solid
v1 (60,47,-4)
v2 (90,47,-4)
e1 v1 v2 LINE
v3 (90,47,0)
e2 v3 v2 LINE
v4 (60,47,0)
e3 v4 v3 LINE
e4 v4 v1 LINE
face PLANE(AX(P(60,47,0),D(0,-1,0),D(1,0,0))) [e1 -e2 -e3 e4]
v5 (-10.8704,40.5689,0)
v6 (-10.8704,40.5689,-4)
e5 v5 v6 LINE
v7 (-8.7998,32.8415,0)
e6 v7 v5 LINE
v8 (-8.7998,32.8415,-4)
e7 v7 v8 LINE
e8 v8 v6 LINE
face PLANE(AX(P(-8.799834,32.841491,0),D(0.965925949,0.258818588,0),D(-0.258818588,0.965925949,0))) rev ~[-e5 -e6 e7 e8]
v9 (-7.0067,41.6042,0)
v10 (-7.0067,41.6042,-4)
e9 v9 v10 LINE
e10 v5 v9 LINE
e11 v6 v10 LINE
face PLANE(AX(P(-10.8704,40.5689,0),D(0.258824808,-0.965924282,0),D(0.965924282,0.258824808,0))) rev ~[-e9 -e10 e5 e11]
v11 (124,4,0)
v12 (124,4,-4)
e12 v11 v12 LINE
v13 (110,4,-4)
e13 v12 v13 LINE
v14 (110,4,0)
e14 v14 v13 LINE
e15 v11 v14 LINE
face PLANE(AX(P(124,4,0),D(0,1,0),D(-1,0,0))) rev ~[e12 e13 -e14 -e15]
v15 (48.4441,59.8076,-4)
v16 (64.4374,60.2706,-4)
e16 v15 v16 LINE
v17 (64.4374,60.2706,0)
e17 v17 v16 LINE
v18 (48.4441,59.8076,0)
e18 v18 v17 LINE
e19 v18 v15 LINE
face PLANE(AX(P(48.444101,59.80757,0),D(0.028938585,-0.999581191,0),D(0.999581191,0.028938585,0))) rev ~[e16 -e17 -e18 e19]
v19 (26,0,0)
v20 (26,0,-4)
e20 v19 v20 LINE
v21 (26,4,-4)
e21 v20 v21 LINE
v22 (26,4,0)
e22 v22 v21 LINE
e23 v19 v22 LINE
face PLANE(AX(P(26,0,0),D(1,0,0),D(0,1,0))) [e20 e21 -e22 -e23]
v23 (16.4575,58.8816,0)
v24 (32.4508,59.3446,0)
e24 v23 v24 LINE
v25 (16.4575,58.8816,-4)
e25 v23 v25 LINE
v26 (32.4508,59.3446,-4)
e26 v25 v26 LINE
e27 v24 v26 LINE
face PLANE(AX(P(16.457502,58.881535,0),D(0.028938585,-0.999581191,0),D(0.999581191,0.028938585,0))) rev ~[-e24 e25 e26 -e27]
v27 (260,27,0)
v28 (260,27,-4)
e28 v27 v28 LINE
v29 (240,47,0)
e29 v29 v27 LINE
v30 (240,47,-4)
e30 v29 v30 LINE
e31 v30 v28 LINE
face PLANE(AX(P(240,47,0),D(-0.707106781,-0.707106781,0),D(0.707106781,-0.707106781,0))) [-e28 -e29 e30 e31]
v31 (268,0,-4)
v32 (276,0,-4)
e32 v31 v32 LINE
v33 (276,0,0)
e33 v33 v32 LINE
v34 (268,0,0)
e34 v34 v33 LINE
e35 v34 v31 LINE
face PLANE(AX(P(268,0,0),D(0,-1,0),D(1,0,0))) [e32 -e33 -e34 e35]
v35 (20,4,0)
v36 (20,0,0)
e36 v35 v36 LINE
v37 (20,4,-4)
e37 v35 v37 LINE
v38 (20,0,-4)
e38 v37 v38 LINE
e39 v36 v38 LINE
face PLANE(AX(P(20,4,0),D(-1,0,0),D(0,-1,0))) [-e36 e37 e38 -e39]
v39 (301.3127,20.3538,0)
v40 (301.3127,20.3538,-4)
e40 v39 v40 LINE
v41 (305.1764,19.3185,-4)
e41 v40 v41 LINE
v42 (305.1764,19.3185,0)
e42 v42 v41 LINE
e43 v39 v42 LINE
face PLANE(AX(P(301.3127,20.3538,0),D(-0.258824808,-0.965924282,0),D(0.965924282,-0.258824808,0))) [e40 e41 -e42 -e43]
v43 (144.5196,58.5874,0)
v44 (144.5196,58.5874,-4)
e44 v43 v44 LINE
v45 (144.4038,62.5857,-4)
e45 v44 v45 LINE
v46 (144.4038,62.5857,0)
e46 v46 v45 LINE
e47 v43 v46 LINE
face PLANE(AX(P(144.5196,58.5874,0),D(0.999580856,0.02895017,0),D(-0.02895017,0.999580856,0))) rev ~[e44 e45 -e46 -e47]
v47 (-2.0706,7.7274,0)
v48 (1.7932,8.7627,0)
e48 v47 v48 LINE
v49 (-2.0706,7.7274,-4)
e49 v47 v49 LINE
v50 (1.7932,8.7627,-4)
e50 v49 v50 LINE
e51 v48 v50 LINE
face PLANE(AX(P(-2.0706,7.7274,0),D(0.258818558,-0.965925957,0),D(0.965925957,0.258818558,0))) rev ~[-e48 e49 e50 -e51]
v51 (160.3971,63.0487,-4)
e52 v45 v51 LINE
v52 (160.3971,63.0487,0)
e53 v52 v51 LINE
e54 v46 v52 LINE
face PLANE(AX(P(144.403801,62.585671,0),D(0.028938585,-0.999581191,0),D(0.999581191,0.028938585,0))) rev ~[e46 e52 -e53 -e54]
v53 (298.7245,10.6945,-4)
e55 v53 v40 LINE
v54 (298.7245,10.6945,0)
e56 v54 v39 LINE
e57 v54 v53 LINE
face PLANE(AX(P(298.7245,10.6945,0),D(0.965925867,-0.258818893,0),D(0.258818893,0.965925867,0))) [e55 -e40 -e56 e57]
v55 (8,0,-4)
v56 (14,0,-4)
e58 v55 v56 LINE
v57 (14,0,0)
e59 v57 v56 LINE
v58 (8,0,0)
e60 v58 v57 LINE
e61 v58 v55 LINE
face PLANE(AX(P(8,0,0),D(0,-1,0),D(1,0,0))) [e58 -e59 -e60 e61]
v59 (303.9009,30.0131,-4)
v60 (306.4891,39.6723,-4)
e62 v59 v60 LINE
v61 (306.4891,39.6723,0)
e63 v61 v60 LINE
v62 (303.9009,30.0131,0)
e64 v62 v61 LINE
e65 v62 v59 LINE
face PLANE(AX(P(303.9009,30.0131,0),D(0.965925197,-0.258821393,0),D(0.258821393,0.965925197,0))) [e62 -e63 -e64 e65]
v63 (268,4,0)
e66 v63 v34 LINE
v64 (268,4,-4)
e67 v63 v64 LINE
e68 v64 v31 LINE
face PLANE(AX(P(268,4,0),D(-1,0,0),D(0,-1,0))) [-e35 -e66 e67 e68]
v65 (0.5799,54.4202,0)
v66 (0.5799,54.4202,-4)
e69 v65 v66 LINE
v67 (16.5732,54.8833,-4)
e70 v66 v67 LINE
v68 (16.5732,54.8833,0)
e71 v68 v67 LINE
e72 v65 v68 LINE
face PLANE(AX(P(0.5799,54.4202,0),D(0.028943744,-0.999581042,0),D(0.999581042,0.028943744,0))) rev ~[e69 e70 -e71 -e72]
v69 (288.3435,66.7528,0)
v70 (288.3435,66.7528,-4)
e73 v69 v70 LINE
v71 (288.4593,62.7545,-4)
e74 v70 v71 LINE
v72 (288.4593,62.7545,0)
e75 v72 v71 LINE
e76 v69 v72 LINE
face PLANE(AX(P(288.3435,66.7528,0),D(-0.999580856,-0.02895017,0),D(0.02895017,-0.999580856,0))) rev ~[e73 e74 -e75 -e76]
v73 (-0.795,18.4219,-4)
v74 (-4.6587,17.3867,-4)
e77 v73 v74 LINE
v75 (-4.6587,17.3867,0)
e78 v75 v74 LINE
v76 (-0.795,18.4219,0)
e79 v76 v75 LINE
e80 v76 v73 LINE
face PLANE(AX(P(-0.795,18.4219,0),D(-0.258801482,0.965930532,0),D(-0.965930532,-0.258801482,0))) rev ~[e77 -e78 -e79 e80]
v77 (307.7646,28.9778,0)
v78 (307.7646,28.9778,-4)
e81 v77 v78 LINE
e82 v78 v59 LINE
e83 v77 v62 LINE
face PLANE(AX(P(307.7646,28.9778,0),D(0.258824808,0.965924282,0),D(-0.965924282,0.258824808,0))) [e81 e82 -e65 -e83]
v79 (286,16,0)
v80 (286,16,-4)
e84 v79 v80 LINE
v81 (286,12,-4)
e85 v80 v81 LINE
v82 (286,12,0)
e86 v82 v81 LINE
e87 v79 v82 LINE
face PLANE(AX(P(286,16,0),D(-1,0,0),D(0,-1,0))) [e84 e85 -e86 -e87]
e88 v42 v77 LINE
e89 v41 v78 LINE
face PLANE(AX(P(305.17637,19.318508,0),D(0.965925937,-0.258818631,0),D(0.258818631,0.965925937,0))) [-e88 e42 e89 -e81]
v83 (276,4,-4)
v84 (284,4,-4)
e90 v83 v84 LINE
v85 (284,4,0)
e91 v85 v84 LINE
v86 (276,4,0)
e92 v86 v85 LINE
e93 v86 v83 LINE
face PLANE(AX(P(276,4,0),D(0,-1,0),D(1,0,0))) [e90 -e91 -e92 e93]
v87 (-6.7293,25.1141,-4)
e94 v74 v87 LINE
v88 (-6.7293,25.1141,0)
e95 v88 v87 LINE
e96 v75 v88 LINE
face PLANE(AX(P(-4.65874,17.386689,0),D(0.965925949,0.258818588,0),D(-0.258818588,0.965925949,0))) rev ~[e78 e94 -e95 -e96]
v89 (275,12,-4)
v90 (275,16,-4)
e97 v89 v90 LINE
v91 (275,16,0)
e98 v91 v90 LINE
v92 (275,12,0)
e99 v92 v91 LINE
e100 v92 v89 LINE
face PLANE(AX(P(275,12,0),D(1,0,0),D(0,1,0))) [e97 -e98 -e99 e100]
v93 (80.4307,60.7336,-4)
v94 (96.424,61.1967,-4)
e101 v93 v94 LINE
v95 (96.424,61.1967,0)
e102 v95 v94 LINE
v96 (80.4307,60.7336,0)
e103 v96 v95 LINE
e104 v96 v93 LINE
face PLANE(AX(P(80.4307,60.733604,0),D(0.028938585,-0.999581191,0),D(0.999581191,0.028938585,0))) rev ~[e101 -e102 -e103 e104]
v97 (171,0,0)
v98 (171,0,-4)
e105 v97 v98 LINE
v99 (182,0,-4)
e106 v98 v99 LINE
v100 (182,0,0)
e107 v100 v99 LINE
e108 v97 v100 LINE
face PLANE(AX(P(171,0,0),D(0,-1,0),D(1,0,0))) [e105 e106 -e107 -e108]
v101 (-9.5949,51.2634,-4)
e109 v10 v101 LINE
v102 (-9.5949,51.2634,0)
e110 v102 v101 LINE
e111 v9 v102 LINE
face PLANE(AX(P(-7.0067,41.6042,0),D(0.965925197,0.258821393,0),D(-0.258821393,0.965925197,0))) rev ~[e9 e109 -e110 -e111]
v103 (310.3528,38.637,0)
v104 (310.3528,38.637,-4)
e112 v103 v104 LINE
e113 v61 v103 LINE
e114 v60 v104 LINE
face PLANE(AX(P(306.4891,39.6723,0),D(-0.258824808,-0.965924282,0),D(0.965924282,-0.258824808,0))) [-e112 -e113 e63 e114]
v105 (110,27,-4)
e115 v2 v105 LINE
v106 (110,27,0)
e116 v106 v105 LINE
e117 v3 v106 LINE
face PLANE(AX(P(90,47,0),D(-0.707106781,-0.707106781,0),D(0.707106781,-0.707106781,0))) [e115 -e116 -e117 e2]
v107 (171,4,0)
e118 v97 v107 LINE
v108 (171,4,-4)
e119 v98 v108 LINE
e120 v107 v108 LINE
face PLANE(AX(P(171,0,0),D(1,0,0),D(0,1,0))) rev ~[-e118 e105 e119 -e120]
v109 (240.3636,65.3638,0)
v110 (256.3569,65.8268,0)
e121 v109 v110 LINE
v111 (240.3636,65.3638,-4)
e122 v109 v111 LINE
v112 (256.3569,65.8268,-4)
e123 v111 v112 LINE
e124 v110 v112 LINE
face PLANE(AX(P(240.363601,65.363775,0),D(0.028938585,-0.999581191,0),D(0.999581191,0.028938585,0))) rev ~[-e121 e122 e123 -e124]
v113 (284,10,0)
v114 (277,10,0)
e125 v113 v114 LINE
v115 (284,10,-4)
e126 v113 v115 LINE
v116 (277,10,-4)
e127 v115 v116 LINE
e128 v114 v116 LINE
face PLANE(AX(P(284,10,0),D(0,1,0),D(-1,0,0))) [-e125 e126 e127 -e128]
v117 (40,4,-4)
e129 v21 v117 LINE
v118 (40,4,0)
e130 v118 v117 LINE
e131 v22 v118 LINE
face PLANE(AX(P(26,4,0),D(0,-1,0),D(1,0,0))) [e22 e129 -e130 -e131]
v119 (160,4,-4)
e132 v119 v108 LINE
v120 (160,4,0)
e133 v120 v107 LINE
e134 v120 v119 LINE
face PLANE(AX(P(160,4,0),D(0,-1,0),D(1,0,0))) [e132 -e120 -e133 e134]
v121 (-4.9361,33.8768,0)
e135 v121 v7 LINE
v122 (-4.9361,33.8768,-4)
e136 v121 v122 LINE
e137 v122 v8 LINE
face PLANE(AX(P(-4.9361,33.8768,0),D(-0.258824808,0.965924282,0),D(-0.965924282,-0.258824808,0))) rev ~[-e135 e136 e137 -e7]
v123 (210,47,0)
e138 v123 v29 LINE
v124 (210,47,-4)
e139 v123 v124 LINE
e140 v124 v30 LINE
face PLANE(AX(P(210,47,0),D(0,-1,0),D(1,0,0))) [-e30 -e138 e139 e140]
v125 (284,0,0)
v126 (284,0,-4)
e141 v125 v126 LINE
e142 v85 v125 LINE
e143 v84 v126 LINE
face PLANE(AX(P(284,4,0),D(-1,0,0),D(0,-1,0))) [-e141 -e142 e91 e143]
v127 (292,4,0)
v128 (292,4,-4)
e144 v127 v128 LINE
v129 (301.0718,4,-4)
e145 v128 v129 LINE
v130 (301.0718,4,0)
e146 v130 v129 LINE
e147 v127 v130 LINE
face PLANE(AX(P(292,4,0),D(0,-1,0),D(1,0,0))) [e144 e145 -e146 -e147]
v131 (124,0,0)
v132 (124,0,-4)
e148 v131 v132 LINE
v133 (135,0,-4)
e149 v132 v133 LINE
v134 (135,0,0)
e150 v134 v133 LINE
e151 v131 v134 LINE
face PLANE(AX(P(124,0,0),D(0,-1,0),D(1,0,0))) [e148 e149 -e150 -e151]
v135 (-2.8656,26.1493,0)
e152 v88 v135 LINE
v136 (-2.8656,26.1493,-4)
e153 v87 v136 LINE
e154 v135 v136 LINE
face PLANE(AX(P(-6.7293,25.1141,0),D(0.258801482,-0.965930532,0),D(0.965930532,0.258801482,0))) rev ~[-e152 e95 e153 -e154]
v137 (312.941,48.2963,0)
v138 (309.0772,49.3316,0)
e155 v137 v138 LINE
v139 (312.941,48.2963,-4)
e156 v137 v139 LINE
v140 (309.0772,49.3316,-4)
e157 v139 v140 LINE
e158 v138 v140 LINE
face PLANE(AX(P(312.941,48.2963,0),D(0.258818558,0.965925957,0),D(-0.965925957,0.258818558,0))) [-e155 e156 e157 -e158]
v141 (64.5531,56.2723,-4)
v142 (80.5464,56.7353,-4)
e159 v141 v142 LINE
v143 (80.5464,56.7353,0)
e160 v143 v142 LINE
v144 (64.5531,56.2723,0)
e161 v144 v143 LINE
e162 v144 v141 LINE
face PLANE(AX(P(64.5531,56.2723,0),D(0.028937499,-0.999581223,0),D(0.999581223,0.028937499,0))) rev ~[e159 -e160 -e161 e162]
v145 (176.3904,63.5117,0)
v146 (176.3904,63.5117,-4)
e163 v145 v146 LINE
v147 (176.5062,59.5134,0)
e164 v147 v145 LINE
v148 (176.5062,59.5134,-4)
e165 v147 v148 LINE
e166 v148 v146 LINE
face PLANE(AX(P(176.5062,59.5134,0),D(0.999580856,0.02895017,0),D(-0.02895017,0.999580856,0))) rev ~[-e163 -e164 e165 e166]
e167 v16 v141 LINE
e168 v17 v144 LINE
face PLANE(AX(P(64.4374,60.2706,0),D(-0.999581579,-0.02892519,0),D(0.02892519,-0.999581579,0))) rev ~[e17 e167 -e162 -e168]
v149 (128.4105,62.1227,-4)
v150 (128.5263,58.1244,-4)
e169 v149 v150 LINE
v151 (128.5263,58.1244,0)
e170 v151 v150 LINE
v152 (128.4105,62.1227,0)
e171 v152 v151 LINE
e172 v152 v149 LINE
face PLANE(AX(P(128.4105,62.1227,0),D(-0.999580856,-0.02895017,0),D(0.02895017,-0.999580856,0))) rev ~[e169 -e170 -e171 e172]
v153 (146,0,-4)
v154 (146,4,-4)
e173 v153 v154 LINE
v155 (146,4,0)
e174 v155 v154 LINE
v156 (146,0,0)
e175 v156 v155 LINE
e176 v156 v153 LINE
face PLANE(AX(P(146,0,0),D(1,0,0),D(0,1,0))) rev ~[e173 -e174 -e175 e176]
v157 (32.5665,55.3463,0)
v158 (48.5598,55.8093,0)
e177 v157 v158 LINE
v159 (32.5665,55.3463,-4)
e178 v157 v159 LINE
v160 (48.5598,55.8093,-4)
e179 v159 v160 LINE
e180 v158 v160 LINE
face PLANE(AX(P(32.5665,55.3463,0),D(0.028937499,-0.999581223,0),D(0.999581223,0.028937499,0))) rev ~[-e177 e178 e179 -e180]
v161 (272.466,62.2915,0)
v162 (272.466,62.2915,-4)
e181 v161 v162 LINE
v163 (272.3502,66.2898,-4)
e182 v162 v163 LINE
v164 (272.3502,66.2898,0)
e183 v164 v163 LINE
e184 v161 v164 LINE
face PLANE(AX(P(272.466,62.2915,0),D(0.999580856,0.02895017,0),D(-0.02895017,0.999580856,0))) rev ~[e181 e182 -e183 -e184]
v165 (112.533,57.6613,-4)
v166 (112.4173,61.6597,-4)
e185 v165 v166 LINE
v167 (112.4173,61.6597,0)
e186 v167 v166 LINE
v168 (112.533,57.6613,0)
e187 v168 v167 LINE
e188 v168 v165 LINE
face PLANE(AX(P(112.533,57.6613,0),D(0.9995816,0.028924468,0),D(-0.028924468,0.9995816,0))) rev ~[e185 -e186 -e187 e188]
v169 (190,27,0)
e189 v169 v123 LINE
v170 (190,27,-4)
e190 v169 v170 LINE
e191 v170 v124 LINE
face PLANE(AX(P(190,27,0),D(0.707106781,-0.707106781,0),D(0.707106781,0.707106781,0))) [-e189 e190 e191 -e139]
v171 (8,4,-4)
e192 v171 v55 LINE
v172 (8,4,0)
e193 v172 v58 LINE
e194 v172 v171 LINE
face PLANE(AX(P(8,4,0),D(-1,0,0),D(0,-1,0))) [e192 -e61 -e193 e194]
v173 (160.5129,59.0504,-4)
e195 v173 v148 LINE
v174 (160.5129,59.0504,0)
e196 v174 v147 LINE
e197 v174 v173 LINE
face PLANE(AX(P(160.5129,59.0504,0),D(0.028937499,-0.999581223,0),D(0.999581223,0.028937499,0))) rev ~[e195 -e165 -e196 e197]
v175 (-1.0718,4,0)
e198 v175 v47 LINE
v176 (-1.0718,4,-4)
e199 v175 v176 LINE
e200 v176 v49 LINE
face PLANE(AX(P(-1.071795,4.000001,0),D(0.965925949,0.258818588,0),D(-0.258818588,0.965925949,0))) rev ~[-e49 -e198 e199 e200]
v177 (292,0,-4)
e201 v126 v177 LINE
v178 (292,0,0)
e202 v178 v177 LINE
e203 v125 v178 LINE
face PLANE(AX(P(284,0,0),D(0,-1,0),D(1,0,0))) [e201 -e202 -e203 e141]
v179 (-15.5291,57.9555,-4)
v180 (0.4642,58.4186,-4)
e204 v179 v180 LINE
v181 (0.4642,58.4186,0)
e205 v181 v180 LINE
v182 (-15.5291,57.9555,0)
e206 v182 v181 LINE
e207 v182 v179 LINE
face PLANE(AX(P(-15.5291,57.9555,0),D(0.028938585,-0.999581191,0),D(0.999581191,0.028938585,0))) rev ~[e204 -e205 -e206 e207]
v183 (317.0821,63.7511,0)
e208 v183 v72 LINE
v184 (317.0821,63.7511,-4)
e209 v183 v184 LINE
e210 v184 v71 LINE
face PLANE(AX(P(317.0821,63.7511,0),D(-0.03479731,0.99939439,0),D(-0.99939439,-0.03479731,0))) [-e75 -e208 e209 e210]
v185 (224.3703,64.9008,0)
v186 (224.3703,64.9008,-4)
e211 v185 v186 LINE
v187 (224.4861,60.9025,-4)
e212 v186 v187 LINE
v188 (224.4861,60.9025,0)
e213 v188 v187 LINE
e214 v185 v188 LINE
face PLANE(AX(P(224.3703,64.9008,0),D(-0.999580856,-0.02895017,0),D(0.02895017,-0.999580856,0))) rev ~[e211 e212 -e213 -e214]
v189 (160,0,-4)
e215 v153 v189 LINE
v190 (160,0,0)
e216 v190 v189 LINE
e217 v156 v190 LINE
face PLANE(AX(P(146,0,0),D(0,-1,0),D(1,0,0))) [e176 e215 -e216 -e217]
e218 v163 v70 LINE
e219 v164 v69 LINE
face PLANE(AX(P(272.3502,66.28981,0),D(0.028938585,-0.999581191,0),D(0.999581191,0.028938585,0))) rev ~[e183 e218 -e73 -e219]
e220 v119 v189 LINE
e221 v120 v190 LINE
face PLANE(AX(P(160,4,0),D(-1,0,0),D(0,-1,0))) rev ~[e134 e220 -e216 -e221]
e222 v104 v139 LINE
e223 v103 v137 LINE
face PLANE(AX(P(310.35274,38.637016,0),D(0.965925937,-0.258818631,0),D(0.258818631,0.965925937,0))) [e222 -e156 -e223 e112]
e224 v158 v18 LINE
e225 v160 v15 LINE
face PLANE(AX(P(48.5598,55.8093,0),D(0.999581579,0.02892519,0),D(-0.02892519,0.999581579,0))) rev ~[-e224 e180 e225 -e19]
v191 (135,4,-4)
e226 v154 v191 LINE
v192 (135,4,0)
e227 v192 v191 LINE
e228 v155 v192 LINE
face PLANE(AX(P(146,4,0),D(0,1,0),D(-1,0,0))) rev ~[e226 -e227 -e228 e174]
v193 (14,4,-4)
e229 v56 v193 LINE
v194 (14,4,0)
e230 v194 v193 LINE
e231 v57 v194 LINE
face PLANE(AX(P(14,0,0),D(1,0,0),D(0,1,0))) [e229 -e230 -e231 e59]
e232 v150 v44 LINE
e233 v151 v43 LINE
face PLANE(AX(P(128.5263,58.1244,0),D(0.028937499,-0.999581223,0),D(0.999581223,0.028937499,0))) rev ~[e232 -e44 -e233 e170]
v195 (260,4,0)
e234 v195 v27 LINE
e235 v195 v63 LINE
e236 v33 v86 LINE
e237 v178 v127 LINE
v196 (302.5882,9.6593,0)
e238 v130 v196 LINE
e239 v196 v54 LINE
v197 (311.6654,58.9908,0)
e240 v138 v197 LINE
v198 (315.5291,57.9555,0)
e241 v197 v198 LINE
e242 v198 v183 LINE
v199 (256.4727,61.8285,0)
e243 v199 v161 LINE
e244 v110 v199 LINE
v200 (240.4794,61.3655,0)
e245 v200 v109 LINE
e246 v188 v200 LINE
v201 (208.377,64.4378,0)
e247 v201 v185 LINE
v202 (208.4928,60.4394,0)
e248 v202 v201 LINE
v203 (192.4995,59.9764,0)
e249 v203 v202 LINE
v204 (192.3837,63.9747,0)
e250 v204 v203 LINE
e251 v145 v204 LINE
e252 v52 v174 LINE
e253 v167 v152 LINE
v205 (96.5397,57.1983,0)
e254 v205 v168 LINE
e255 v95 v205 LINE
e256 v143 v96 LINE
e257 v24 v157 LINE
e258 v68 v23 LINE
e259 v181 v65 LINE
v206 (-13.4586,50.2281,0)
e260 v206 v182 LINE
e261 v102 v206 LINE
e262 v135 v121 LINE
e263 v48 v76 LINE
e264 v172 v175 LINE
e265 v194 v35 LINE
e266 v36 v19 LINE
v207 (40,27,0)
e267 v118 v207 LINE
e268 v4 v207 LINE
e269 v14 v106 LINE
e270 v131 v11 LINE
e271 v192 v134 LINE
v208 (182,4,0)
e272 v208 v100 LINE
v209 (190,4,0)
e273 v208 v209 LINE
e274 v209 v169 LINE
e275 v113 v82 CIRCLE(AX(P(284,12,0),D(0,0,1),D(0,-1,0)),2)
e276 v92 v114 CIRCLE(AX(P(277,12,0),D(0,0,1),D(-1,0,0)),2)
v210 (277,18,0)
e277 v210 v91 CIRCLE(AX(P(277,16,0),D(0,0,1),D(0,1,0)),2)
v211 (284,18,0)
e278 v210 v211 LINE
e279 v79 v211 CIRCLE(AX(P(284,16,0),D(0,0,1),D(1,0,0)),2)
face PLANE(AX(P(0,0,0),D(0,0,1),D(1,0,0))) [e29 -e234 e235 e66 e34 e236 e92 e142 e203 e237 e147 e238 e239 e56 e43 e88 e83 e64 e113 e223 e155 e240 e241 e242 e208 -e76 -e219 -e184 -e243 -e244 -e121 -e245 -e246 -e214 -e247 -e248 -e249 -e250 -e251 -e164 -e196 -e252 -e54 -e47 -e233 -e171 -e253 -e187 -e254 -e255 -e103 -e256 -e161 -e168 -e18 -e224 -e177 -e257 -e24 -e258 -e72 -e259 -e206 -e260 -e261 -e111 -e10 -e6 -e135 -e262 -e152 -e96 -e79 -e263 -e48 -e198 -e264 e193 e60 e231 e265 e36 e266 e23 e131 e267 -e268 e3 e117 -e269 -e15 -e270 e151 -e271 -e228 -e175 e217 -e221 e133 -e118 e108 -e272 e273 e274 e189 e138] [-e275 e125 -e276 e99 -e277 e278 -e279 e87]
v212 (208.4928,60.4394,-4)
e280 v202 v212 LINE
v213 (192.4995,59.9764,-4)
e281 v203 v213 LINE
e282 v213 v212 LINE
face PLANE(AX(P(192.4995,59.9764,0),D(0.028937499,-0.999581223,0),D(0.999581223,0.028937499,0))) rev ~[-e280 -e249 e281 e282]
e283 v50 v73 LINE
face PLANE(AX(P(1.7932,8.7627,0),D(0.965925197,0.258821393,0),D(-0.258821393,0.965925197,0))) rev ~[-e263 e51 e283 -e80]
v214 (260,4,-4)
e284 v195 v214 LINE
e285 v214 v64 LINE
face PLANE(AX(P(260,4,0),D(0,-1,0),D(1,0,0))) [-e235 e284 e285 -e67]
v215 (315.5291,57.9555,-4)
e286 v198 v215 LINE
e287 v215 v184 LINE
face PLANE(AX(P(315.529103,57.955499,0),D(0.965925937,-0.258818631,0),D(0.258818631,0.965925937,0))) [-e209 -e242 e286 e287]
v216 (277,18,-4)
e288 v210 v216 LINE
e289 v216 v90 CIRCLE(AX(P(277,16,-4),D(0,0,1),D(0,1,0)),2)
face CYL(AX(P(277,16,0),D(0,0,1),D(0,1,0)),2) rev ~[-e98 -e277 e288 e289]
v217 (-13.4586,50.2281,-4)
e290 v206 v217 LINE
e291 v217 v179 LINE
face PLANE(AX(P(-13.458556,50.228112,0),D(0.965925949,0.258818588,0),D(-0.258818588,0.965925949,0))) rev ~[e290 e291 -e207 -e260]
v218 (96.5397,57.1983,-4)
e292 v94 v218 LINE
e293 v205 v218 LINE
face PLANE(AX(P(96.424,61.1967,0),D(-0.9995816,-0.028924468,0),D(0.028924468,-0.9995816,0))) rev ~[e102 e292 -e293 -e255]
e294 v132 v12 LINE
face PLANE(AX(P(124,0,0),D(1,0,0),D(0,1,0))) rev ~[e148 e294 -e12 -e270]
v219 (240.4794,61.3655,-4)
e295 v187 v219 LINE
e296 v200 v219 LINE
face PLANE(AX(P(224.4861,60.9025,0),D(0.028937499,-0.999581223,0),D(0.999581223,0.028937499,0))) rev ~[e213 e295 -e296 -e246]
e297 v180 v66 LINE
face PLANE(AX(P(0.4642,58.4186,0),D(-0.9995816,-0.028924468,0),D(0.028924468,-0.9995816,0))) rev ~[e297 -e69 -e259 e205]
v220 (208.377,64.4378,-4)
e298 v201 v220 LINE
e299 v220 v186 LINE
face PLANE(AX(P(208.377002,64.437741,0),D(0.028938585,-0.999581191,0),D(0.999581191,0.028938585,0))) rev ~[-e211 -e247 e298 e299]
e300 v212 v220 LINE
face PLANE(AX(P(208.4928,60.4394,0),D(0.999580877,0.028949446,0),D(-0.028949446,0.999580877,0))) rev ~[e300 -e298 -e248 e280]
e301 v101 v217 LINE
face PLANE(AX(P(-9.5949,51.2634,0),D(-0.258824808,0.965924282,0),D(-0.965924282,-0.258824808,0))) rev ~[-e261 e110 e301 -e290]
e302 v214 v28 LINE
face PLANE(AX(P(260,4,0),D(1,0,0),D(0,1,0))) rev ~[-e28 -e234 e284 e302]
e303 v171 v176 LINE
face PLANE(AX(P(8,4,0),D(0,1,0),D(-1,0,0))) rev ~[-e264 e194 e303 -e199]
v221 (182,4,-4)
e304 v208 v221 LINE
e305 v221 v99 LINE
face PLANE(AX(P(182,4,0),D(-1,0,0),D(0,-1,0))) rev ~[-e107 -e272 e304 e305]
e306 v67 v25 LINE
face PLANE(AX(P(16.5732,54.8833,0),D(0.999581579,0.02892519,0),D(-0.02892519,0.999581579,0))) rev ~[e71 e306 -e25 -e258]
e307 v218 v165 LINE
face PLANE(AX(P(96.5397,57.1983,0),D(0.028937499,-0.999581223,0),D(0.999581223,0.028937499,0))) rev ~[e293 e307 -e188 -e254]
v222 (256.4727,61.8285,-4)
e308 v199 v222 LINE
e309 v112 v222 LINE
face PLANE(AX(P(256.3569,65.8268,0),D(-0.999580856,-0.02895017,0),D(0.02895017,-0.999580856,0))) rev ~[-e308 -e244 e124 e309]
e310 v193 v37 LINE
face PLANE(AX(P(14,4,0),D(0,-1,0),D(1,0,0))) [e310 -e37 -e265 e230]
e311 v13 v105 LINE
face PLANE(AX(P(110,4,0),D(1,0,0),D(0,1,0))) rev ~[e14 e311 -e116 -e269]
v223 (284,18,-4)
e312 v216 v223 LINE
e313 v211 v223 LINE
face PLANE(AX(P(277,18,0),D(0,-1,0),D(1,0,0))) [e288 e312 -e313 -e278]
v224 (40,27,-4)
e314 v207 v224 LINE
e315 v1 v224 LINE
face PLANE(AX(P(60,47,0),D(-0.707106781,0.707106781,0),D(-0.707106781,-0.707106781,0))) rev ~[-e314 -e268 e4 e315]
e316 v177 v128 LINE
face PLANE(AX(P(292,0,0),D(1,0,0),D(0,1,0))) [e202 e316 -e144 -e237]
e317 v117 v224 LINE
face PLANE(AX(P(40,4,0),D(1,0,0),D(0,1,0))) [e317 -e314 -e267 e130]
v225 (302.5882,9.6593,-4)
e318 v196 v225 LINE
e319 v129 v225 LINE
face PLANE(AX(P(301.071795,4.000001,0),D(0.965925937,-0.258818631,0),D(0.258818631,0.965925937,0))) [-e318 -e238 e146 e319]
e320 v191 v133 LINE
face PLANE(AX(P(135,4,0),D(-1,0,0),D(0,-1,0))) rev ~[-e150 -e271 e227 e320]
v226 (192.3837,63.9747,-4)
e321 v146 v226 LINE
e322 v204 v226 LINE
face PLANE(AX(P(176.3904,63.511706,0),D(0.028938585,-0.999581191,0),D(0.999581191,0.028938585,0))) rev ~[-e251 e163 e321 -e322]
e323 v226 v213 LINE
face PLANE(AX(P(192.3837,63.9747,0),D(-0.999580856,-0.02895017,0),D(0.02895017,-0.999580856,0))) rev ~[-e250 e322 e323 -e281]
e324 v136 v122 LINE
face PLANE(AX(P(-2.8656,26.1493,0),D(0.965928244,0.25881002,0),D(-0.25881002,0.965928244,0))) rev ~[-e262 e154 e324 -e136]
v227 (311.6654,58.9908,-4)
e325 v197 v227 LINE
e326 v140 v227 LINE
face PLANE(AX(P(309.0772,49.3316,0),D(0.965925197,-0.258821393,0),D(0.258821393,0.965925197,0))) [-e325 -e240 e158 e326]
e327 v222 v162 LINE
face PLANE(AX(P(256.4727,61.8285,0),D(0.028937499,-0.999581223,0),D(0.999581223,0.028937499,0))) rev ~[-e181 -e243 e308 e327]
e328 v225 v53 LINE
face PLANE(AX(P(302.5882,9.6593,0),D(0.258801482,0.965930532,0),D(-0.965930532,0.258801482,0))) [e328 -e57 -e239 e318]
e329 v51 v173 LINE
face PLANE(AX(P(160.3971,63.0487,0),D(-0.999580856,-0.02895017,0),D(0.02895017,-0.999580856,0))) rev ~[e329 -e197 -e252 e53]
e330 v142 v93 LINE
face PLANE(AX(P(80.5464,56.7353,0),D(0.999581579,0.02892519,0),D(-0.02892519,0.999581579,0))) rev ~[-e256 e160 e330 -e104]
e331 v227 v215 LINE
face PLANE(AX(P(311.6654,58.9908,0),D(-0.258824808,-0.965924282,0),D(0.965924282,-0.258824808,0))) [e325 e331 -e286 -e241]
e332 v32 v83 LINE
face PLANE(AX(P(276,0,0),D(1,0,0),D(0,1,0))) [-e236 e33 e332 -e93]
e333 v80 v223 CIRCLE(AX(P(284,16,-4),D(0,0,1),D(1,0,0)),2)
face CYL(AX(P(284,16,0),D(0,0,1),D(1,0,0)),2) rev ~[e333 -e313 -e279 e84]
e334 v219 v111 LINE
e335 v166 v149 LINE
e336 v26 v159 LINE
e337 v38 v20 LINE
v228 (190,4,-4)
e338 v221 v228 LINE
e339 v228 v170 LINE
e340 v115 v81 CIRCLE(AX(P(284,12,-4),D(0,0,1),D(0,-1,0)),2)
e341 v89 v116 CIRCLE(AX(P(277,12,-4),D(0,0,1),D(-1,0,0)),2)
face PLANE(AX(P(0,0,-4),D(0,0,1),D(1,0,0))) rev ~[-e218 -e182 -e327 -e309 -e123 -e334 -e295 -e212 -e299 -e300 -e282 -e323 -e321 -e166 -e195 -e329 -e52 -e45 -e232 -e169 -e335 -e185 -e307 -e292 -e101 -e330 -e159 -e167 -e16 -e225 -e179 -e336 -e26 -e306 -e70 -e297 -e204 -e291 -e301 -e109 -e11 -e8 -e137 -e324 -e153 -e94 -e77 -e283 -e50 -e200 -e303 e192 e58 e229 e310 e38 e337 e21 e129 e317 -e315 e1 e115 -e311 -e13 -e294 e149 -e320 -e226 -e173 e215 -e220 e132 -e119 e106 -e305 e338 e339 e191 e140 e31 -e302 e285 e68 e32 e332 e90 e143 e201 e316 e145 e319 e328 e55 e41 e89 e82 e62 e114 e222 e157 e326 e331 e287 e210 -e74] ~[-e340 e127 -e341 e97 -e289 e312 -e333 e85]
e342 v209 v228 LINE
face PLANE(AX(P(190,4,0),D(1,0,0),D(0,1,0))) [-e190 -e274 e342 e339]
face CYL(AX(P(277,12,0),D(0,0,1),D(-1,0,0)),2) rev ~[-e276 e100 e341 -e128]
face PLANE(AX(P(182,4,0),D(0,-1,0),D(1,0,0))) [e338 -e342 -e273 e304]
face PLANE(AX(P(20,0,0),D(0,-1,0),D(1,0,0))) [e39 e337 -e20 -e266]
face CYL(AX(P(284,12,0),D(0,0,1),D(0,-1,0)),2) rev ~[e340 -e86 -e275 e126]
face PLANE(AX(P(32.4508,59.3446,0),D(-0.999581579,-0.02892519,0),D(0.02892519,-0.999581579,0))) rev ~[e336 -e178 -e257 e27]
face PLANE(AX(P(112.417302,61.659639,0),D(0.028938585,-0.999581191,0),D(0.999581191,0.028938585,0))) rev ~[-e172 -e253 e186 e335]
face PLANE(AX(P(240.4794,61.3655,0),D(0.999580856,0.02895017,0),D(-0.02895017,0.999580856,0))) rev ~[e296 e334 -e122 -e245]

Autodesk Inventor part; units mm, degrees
ref_plane "YZ Plane" through (0, 0, 0) normal (1, 0, 0) x (0, 1, 0)
ref_plane "XZ Plane" through (0, 0, 0) normal (0, 1, 0) x (-1, 0, 0)
ref_plane "XY Plane" through (0, 0, 0) normal (0, 0, 1) x (1, 0, 0)
sketch "Sketch1" plane through (0, 0, 0) normal (0, 0, 1) x (1, 0, 0)
  line L0 (0, 0) -> (300, 0)
  line L1 (300, 0) -> (318.1173, 67.6148)
  line L2 (0, 0) -> (-15.5291, 57.9555)
  line L3 (0, 0) -> (60, 0) construction
  line L4 (-15.5291, 57.9555) -> (318.1173, 67.6148)
  line L5 (8, 0) -> (14, 0)
  line L6 (14, 0) -> (14, 4)
  line L7 (8, 4) -> (8, 0)
  line L8 (20, 0) -> (26, 0)
  line L9 (26, 0) -> (26, 4)
  line L10 (20, 4) -> (20, 0)
  line L11 (135, 4) -> (135, 0)
  line L12 (135, 0) -> (124, 0)
  line L13 (124, 0) -> (124, 4)
  line L14 (160, 4) -> (160, 0)
  line L15 (160, 0) -> (146, 0)
  line L16 (146, 0) -> (146, 4)
  line L17 (8, 4) -> (-1.0718, 4)
  line L18 (14, 4) -> (20, 4)
  line L19 (40, 0) -> (40, 27)
  line L20 (110, 0) -> (110, 27)
  line L21 (182, 4) -> (182, 0)
  line L22 (182, 0) -> (171, 0)
  line L23 (171, 0) -> (171, 4)
  line L24 (26, 4) -> (40, 4)
  line L25 (124, 4) -> (110, 4)
  line L26 (146, 4) -> (135, 4)
  line L27 (160, 4) -> (171, 4)
  line L28 (190, 0) -> (190, 27)
  line L29 (182, 4) -> (190, 4)
  line L30 (90, 47) -> (110, 27)
  line L31 (60, 47) -> (40, 27)
  line L32 (60, 47) -> (90, 47)
  line L33 (260, 0) -> (260, 27)
  line L34 (260, 0) -> (287, 0) construction
  line L35 (260, 4) -> (268, 4)
  line L36 (268, 4) -> (268, 0)
  line L37 (268, 0) -> (276, 0)
  line L38 (276, 0) -> (276, 4)
  line L39 (276, 4) -> (284, 4)
  line L40 (284, 4) -> (284, 0)
  line L41 (284, 0) -> (292, 0)
  line L42 (292, 0) -> (292, 4)
  line L43 (292, 4) -> (301.0718, 4)
  line L44 (190, 27) -> (210, 47)
  line L45 (210, 47) -> (240, 47)
  line L46 (240, 47) -> (260, 27)
  line L47 (302.5882, 9.6593) -> (298.7245, 10.6945)
  line L48 (298.7245, 10.6945) -> (301.3127, 20.3538)
  line L49 (301.3127, 20.3538) -> (305.1764, 19.3185)
  line L50 (307.7646, 28.9778) -> (303.9009, 30.0131)
  line L51 (303.9009, 30.0131) -> (306.4891, 39.6723)
  line L52 (306.4891, 39.6723) -> (310.3528, 38.637)
  line L53 (309.0772, 49.3316) -> (311.6654, 58.9908)
  line L54 (312.941, 48.2963) -> (309.0772, 49.3316)
  line L55 (311.6654, 58.9908) -> (315.5291, 57.9555)
  line L56 (-2.0706, 7.7274) -> (1.7932, 8.7627)
  line L57 (1.7932, 8.7627) -> (-0.795, 18.4219)
  line L58 (-0.795, 18.4219) -> (-4.6587, 17.3867)
  line L59 (-6.7293, 25.1141) -> (-2.8656, 26.1493)
  line L60 (-2.8656, 26.1493) -> (-4.9361, 33.8768)
  line L61 (-4.9361, 33.8768) -> (-8.7998, 32.8415)
  line L62 (-10.8704, 40.5689) -> (-7.0067, 41.6042)
  line L63 (-7.0067, 41.6042) -> (-9.5949, 51.2634)
  line L64 (-9.5949, 51.2634) -> (-13.4586, 50.2281)
  line L65 (0.4642, 58.4186) -> (0.5799, 54.4202)
  line L66 (0.5799, 54.4202) -> (16.5732, 54.8833)
  line L67 (16.5732, 54.8833) -> (16.4575, 58.8816)
  line L68 (16.4575, 58.8816) -> (0.4642, 58.4186)
  line L69 (0.4642, 58.4186) -> (-15.5291, 57.9555)
  line L70 (32.4508, 59.3446) -> (32.5665, 55.3463)
  line L71 (32.5665, 55.3463) -> (48.5598, 55.8093)
  line L72 (48.5598, 55.8093) -> (48.4441, 59.8076)
  line L73 (48.4441, 59.8076) -> (32.4508, 59.3446)
  line L74 (32.4508, 59.3446) -> (16.4575, 58.8816)
  line L75 (64.4374, 60.2706) -> (64.5531, 56.2723)
  line L76 (64.5531, 56.2723) -> (80.5464, 56.7353)
  line L77 (80.5464, 56.7353) -> (80.4307, 60.7336)
  line L78 (80.4307, 60.7336) -> (64.4374, 60.2706)
  line L79 (64.4374, 60.2706) -> (48.4441, 59.8076)
  line L80 (96.424, 61.1967) -> (80.4307, 60.7336)
  line L81 (96.424, 61.1967) -> (96.5397, 57.1983)
  line L82 (112.4173, 61.6597) -> (96.424, 61.1967)
  line L83 (112.533, 57.6613) -> (112.4173, 61.6597)
  line L84 (96.5397, 57.1983) -> (112.533, 57.6613)
  line L85 (128.4105, 62.1227) -> (112.4173, 61.6597)
  line L86 (128.4105, 62.1227) -> (128.5263, 58.1244)
  line L87 (144.4038, 62.5857) -> (128.4105, 62.1227)
  line L88 (144.5196, 58.5874) -> (144.4038, 62.5857)
  line L89 (128.5263, 58.1244) -> (144.5196, 58.5874)
  line L90 (160.5129, 59.0504) -> (176.5062, 59.5134)
  line L91 (160.3971, 63.0487) -> (144.4038, 62.5857)
  line L92 (160.3971, 63.0487) -> (160.5129, 59.0504)
  line L93 (176.3904, 63.5117) -> (160.3971, 63.0487)
  line L94 (208.4928, 60.4394) -> (208.377, 64.4378)
  line L95 (192.4995, 59.9764) -> (208.4928, 60.4394)
  line L96 (208.377, 64.4378) -> (192.3837, 63.9747)
  line L97 (192.3837, 63.9747) -> (192.4995, 59.9764)
  line L98 (192.3837, 63.9747) -> (176.3904, 63.5117)
  line L99 (176.5062, 59.5134) -> (176.3904, 63.5117)
  line L100 (240.4794, 61.3655) -> (240.3636, 65.3638)
  line L101 (224.4861, 60.9025) -> (240.4794, 61.3655)
  line L102 (240.3636, 65.3638) -> (224.3703, 64.9008)
  line L103 (224.3703, 64.9008) -> (224.4861, 60.9025)
  line L104 (224.3703, 64.9008) -> (208.377, 64.4378)
  line L105 (256.3569, 65.8268) -> (240.3636, 65.3638)
  line L106 (256.3569, 65.8268) -> (256.4727, 61.8285)
  line L107 (256.4727, 61.8285) -> (272.466, 62.2915)
  line L108 (272.3502, 66.2898) -> (256.3569, 65.8268)
  line L109 (272.466, 62.2915) -> (272.3502, 66.2898)
  line L110 (288.3435, 66.7528) -> (288.4593, 62.7545)
  line L111 (304.3368, 67.2159) -> (288.3435, 66.7528)
  line L112 (288.3435, 66.7528) -> (272.3502, 66.2898)
  line L113 (317.0821, 63.7511) -> (318.1173, 67.6148)
  line L114 (317.0821, 63.7511) -> (288.4593, 62.7545)
  point P0 (3.4641, 4)
  dimension "d271" = 105
  dimension "d273" = 105
  dimension "d276" = 8
  dimension "d277" = 6
  dimension "d278" = 6
  dimension "d279" = 6
  dimension "d281" = 11
  dimension "d282" = 11
  dimension "d283" = 27
  dimension "d284" = 14
  dimension "d285" = 70
  dimension "d286" = 14
  dimension "d287" = 14
  dimension "d288" = 11
  dimension "d289" = 11
  dimension "d290" = 8
  dimension "d297" = 20
  dimension "d298" = 20
  dimension "d303" = 70
  dimension "d304" = 8
  dimension "d305" = 8
  dimension "d307" = 8
  dimension "d308" = 8
  dimension "d309" = 4
  dimension "d312" = 8
  dimension "d313" = 10
  dimension "d314" = 10
  dimension "d315" = 10
  dimension "d316" = 10
  dimension "d319" = 10
  dimension "d321" = 10
  dimension "d322" = 10
  dimension "d323" = 8
  dimension "d324" = 10
  dimension "d325" = 8
  dimension "d326" = 10
  dimension "d327" = 8
  dimension "d328" = 8
  dimension "d329" = 8
  dimension "d333" = 16
  dimension "d334" = 16
extrude "Extrusion1" add sketch "Sketch1" against normal blind 4 contours L7 L17 L2 L56 L57 L58 L59 L60 L61 L62 L63 L64 L4 L65 L66 L67 L70 L71 L72 L75 L76 L77 L81 L84 L83 L86 L89 L88 L92 L90 L99 L97 L95 L94 L103 L101 L100 L106 L107 L109 L110 L114 L1 L55 L53 L54 L52 L51 L50 L49 L48 L47 L43 L42 L0 L40 L39 L38 L36 L35 L33 L46 L45 L44 L28 L29 L21 L23 L27 L14 L16 L26 L11 L13 L25 L20 L30 L32 L31 L19 L24 L9 L10 L18 L6
sketch "Sketch2" plane through (0, 0, 0) normal (0, 0, 1) x (1, 0, 0)
  line L0 (277, 18) -> (284, 18)
  line L1 (286, 16) -> (286, 12)
  line L2 (284, 10) -> (277, 10)
  line L3 (275, 12) -> (275, 16)
  arc A0 (277, 18) -> (275, 16) centre (277, 16) ccw
  arc A1 (284, 10) -> (286, 12) centre (284, 12) ccw
  arc A2 (286, 16) -> (284, 18) centre (284, 16) ccw
  arc A3 (275, 12) -> (277, 10) centre (277, 12) ccw
  line L4 (292, 4) -> (301.0718, 4) projected
  line L5 (292, 0) -> (292, 4) projected
  point P0 (0, 0)
  point P1 (286, 10)
  point P2 (286, 18)
  point P3 (275, 10)
  dimension "d339" = 11
  dimension "d340" = 8
  dimension "d341" = 2
  dimension "d342" = 6
  dimension "d346" = 6
extrude "Extrusion2" cut sketch "Sketch2" against normal blind 4
properties part number "Langbektang houder"
